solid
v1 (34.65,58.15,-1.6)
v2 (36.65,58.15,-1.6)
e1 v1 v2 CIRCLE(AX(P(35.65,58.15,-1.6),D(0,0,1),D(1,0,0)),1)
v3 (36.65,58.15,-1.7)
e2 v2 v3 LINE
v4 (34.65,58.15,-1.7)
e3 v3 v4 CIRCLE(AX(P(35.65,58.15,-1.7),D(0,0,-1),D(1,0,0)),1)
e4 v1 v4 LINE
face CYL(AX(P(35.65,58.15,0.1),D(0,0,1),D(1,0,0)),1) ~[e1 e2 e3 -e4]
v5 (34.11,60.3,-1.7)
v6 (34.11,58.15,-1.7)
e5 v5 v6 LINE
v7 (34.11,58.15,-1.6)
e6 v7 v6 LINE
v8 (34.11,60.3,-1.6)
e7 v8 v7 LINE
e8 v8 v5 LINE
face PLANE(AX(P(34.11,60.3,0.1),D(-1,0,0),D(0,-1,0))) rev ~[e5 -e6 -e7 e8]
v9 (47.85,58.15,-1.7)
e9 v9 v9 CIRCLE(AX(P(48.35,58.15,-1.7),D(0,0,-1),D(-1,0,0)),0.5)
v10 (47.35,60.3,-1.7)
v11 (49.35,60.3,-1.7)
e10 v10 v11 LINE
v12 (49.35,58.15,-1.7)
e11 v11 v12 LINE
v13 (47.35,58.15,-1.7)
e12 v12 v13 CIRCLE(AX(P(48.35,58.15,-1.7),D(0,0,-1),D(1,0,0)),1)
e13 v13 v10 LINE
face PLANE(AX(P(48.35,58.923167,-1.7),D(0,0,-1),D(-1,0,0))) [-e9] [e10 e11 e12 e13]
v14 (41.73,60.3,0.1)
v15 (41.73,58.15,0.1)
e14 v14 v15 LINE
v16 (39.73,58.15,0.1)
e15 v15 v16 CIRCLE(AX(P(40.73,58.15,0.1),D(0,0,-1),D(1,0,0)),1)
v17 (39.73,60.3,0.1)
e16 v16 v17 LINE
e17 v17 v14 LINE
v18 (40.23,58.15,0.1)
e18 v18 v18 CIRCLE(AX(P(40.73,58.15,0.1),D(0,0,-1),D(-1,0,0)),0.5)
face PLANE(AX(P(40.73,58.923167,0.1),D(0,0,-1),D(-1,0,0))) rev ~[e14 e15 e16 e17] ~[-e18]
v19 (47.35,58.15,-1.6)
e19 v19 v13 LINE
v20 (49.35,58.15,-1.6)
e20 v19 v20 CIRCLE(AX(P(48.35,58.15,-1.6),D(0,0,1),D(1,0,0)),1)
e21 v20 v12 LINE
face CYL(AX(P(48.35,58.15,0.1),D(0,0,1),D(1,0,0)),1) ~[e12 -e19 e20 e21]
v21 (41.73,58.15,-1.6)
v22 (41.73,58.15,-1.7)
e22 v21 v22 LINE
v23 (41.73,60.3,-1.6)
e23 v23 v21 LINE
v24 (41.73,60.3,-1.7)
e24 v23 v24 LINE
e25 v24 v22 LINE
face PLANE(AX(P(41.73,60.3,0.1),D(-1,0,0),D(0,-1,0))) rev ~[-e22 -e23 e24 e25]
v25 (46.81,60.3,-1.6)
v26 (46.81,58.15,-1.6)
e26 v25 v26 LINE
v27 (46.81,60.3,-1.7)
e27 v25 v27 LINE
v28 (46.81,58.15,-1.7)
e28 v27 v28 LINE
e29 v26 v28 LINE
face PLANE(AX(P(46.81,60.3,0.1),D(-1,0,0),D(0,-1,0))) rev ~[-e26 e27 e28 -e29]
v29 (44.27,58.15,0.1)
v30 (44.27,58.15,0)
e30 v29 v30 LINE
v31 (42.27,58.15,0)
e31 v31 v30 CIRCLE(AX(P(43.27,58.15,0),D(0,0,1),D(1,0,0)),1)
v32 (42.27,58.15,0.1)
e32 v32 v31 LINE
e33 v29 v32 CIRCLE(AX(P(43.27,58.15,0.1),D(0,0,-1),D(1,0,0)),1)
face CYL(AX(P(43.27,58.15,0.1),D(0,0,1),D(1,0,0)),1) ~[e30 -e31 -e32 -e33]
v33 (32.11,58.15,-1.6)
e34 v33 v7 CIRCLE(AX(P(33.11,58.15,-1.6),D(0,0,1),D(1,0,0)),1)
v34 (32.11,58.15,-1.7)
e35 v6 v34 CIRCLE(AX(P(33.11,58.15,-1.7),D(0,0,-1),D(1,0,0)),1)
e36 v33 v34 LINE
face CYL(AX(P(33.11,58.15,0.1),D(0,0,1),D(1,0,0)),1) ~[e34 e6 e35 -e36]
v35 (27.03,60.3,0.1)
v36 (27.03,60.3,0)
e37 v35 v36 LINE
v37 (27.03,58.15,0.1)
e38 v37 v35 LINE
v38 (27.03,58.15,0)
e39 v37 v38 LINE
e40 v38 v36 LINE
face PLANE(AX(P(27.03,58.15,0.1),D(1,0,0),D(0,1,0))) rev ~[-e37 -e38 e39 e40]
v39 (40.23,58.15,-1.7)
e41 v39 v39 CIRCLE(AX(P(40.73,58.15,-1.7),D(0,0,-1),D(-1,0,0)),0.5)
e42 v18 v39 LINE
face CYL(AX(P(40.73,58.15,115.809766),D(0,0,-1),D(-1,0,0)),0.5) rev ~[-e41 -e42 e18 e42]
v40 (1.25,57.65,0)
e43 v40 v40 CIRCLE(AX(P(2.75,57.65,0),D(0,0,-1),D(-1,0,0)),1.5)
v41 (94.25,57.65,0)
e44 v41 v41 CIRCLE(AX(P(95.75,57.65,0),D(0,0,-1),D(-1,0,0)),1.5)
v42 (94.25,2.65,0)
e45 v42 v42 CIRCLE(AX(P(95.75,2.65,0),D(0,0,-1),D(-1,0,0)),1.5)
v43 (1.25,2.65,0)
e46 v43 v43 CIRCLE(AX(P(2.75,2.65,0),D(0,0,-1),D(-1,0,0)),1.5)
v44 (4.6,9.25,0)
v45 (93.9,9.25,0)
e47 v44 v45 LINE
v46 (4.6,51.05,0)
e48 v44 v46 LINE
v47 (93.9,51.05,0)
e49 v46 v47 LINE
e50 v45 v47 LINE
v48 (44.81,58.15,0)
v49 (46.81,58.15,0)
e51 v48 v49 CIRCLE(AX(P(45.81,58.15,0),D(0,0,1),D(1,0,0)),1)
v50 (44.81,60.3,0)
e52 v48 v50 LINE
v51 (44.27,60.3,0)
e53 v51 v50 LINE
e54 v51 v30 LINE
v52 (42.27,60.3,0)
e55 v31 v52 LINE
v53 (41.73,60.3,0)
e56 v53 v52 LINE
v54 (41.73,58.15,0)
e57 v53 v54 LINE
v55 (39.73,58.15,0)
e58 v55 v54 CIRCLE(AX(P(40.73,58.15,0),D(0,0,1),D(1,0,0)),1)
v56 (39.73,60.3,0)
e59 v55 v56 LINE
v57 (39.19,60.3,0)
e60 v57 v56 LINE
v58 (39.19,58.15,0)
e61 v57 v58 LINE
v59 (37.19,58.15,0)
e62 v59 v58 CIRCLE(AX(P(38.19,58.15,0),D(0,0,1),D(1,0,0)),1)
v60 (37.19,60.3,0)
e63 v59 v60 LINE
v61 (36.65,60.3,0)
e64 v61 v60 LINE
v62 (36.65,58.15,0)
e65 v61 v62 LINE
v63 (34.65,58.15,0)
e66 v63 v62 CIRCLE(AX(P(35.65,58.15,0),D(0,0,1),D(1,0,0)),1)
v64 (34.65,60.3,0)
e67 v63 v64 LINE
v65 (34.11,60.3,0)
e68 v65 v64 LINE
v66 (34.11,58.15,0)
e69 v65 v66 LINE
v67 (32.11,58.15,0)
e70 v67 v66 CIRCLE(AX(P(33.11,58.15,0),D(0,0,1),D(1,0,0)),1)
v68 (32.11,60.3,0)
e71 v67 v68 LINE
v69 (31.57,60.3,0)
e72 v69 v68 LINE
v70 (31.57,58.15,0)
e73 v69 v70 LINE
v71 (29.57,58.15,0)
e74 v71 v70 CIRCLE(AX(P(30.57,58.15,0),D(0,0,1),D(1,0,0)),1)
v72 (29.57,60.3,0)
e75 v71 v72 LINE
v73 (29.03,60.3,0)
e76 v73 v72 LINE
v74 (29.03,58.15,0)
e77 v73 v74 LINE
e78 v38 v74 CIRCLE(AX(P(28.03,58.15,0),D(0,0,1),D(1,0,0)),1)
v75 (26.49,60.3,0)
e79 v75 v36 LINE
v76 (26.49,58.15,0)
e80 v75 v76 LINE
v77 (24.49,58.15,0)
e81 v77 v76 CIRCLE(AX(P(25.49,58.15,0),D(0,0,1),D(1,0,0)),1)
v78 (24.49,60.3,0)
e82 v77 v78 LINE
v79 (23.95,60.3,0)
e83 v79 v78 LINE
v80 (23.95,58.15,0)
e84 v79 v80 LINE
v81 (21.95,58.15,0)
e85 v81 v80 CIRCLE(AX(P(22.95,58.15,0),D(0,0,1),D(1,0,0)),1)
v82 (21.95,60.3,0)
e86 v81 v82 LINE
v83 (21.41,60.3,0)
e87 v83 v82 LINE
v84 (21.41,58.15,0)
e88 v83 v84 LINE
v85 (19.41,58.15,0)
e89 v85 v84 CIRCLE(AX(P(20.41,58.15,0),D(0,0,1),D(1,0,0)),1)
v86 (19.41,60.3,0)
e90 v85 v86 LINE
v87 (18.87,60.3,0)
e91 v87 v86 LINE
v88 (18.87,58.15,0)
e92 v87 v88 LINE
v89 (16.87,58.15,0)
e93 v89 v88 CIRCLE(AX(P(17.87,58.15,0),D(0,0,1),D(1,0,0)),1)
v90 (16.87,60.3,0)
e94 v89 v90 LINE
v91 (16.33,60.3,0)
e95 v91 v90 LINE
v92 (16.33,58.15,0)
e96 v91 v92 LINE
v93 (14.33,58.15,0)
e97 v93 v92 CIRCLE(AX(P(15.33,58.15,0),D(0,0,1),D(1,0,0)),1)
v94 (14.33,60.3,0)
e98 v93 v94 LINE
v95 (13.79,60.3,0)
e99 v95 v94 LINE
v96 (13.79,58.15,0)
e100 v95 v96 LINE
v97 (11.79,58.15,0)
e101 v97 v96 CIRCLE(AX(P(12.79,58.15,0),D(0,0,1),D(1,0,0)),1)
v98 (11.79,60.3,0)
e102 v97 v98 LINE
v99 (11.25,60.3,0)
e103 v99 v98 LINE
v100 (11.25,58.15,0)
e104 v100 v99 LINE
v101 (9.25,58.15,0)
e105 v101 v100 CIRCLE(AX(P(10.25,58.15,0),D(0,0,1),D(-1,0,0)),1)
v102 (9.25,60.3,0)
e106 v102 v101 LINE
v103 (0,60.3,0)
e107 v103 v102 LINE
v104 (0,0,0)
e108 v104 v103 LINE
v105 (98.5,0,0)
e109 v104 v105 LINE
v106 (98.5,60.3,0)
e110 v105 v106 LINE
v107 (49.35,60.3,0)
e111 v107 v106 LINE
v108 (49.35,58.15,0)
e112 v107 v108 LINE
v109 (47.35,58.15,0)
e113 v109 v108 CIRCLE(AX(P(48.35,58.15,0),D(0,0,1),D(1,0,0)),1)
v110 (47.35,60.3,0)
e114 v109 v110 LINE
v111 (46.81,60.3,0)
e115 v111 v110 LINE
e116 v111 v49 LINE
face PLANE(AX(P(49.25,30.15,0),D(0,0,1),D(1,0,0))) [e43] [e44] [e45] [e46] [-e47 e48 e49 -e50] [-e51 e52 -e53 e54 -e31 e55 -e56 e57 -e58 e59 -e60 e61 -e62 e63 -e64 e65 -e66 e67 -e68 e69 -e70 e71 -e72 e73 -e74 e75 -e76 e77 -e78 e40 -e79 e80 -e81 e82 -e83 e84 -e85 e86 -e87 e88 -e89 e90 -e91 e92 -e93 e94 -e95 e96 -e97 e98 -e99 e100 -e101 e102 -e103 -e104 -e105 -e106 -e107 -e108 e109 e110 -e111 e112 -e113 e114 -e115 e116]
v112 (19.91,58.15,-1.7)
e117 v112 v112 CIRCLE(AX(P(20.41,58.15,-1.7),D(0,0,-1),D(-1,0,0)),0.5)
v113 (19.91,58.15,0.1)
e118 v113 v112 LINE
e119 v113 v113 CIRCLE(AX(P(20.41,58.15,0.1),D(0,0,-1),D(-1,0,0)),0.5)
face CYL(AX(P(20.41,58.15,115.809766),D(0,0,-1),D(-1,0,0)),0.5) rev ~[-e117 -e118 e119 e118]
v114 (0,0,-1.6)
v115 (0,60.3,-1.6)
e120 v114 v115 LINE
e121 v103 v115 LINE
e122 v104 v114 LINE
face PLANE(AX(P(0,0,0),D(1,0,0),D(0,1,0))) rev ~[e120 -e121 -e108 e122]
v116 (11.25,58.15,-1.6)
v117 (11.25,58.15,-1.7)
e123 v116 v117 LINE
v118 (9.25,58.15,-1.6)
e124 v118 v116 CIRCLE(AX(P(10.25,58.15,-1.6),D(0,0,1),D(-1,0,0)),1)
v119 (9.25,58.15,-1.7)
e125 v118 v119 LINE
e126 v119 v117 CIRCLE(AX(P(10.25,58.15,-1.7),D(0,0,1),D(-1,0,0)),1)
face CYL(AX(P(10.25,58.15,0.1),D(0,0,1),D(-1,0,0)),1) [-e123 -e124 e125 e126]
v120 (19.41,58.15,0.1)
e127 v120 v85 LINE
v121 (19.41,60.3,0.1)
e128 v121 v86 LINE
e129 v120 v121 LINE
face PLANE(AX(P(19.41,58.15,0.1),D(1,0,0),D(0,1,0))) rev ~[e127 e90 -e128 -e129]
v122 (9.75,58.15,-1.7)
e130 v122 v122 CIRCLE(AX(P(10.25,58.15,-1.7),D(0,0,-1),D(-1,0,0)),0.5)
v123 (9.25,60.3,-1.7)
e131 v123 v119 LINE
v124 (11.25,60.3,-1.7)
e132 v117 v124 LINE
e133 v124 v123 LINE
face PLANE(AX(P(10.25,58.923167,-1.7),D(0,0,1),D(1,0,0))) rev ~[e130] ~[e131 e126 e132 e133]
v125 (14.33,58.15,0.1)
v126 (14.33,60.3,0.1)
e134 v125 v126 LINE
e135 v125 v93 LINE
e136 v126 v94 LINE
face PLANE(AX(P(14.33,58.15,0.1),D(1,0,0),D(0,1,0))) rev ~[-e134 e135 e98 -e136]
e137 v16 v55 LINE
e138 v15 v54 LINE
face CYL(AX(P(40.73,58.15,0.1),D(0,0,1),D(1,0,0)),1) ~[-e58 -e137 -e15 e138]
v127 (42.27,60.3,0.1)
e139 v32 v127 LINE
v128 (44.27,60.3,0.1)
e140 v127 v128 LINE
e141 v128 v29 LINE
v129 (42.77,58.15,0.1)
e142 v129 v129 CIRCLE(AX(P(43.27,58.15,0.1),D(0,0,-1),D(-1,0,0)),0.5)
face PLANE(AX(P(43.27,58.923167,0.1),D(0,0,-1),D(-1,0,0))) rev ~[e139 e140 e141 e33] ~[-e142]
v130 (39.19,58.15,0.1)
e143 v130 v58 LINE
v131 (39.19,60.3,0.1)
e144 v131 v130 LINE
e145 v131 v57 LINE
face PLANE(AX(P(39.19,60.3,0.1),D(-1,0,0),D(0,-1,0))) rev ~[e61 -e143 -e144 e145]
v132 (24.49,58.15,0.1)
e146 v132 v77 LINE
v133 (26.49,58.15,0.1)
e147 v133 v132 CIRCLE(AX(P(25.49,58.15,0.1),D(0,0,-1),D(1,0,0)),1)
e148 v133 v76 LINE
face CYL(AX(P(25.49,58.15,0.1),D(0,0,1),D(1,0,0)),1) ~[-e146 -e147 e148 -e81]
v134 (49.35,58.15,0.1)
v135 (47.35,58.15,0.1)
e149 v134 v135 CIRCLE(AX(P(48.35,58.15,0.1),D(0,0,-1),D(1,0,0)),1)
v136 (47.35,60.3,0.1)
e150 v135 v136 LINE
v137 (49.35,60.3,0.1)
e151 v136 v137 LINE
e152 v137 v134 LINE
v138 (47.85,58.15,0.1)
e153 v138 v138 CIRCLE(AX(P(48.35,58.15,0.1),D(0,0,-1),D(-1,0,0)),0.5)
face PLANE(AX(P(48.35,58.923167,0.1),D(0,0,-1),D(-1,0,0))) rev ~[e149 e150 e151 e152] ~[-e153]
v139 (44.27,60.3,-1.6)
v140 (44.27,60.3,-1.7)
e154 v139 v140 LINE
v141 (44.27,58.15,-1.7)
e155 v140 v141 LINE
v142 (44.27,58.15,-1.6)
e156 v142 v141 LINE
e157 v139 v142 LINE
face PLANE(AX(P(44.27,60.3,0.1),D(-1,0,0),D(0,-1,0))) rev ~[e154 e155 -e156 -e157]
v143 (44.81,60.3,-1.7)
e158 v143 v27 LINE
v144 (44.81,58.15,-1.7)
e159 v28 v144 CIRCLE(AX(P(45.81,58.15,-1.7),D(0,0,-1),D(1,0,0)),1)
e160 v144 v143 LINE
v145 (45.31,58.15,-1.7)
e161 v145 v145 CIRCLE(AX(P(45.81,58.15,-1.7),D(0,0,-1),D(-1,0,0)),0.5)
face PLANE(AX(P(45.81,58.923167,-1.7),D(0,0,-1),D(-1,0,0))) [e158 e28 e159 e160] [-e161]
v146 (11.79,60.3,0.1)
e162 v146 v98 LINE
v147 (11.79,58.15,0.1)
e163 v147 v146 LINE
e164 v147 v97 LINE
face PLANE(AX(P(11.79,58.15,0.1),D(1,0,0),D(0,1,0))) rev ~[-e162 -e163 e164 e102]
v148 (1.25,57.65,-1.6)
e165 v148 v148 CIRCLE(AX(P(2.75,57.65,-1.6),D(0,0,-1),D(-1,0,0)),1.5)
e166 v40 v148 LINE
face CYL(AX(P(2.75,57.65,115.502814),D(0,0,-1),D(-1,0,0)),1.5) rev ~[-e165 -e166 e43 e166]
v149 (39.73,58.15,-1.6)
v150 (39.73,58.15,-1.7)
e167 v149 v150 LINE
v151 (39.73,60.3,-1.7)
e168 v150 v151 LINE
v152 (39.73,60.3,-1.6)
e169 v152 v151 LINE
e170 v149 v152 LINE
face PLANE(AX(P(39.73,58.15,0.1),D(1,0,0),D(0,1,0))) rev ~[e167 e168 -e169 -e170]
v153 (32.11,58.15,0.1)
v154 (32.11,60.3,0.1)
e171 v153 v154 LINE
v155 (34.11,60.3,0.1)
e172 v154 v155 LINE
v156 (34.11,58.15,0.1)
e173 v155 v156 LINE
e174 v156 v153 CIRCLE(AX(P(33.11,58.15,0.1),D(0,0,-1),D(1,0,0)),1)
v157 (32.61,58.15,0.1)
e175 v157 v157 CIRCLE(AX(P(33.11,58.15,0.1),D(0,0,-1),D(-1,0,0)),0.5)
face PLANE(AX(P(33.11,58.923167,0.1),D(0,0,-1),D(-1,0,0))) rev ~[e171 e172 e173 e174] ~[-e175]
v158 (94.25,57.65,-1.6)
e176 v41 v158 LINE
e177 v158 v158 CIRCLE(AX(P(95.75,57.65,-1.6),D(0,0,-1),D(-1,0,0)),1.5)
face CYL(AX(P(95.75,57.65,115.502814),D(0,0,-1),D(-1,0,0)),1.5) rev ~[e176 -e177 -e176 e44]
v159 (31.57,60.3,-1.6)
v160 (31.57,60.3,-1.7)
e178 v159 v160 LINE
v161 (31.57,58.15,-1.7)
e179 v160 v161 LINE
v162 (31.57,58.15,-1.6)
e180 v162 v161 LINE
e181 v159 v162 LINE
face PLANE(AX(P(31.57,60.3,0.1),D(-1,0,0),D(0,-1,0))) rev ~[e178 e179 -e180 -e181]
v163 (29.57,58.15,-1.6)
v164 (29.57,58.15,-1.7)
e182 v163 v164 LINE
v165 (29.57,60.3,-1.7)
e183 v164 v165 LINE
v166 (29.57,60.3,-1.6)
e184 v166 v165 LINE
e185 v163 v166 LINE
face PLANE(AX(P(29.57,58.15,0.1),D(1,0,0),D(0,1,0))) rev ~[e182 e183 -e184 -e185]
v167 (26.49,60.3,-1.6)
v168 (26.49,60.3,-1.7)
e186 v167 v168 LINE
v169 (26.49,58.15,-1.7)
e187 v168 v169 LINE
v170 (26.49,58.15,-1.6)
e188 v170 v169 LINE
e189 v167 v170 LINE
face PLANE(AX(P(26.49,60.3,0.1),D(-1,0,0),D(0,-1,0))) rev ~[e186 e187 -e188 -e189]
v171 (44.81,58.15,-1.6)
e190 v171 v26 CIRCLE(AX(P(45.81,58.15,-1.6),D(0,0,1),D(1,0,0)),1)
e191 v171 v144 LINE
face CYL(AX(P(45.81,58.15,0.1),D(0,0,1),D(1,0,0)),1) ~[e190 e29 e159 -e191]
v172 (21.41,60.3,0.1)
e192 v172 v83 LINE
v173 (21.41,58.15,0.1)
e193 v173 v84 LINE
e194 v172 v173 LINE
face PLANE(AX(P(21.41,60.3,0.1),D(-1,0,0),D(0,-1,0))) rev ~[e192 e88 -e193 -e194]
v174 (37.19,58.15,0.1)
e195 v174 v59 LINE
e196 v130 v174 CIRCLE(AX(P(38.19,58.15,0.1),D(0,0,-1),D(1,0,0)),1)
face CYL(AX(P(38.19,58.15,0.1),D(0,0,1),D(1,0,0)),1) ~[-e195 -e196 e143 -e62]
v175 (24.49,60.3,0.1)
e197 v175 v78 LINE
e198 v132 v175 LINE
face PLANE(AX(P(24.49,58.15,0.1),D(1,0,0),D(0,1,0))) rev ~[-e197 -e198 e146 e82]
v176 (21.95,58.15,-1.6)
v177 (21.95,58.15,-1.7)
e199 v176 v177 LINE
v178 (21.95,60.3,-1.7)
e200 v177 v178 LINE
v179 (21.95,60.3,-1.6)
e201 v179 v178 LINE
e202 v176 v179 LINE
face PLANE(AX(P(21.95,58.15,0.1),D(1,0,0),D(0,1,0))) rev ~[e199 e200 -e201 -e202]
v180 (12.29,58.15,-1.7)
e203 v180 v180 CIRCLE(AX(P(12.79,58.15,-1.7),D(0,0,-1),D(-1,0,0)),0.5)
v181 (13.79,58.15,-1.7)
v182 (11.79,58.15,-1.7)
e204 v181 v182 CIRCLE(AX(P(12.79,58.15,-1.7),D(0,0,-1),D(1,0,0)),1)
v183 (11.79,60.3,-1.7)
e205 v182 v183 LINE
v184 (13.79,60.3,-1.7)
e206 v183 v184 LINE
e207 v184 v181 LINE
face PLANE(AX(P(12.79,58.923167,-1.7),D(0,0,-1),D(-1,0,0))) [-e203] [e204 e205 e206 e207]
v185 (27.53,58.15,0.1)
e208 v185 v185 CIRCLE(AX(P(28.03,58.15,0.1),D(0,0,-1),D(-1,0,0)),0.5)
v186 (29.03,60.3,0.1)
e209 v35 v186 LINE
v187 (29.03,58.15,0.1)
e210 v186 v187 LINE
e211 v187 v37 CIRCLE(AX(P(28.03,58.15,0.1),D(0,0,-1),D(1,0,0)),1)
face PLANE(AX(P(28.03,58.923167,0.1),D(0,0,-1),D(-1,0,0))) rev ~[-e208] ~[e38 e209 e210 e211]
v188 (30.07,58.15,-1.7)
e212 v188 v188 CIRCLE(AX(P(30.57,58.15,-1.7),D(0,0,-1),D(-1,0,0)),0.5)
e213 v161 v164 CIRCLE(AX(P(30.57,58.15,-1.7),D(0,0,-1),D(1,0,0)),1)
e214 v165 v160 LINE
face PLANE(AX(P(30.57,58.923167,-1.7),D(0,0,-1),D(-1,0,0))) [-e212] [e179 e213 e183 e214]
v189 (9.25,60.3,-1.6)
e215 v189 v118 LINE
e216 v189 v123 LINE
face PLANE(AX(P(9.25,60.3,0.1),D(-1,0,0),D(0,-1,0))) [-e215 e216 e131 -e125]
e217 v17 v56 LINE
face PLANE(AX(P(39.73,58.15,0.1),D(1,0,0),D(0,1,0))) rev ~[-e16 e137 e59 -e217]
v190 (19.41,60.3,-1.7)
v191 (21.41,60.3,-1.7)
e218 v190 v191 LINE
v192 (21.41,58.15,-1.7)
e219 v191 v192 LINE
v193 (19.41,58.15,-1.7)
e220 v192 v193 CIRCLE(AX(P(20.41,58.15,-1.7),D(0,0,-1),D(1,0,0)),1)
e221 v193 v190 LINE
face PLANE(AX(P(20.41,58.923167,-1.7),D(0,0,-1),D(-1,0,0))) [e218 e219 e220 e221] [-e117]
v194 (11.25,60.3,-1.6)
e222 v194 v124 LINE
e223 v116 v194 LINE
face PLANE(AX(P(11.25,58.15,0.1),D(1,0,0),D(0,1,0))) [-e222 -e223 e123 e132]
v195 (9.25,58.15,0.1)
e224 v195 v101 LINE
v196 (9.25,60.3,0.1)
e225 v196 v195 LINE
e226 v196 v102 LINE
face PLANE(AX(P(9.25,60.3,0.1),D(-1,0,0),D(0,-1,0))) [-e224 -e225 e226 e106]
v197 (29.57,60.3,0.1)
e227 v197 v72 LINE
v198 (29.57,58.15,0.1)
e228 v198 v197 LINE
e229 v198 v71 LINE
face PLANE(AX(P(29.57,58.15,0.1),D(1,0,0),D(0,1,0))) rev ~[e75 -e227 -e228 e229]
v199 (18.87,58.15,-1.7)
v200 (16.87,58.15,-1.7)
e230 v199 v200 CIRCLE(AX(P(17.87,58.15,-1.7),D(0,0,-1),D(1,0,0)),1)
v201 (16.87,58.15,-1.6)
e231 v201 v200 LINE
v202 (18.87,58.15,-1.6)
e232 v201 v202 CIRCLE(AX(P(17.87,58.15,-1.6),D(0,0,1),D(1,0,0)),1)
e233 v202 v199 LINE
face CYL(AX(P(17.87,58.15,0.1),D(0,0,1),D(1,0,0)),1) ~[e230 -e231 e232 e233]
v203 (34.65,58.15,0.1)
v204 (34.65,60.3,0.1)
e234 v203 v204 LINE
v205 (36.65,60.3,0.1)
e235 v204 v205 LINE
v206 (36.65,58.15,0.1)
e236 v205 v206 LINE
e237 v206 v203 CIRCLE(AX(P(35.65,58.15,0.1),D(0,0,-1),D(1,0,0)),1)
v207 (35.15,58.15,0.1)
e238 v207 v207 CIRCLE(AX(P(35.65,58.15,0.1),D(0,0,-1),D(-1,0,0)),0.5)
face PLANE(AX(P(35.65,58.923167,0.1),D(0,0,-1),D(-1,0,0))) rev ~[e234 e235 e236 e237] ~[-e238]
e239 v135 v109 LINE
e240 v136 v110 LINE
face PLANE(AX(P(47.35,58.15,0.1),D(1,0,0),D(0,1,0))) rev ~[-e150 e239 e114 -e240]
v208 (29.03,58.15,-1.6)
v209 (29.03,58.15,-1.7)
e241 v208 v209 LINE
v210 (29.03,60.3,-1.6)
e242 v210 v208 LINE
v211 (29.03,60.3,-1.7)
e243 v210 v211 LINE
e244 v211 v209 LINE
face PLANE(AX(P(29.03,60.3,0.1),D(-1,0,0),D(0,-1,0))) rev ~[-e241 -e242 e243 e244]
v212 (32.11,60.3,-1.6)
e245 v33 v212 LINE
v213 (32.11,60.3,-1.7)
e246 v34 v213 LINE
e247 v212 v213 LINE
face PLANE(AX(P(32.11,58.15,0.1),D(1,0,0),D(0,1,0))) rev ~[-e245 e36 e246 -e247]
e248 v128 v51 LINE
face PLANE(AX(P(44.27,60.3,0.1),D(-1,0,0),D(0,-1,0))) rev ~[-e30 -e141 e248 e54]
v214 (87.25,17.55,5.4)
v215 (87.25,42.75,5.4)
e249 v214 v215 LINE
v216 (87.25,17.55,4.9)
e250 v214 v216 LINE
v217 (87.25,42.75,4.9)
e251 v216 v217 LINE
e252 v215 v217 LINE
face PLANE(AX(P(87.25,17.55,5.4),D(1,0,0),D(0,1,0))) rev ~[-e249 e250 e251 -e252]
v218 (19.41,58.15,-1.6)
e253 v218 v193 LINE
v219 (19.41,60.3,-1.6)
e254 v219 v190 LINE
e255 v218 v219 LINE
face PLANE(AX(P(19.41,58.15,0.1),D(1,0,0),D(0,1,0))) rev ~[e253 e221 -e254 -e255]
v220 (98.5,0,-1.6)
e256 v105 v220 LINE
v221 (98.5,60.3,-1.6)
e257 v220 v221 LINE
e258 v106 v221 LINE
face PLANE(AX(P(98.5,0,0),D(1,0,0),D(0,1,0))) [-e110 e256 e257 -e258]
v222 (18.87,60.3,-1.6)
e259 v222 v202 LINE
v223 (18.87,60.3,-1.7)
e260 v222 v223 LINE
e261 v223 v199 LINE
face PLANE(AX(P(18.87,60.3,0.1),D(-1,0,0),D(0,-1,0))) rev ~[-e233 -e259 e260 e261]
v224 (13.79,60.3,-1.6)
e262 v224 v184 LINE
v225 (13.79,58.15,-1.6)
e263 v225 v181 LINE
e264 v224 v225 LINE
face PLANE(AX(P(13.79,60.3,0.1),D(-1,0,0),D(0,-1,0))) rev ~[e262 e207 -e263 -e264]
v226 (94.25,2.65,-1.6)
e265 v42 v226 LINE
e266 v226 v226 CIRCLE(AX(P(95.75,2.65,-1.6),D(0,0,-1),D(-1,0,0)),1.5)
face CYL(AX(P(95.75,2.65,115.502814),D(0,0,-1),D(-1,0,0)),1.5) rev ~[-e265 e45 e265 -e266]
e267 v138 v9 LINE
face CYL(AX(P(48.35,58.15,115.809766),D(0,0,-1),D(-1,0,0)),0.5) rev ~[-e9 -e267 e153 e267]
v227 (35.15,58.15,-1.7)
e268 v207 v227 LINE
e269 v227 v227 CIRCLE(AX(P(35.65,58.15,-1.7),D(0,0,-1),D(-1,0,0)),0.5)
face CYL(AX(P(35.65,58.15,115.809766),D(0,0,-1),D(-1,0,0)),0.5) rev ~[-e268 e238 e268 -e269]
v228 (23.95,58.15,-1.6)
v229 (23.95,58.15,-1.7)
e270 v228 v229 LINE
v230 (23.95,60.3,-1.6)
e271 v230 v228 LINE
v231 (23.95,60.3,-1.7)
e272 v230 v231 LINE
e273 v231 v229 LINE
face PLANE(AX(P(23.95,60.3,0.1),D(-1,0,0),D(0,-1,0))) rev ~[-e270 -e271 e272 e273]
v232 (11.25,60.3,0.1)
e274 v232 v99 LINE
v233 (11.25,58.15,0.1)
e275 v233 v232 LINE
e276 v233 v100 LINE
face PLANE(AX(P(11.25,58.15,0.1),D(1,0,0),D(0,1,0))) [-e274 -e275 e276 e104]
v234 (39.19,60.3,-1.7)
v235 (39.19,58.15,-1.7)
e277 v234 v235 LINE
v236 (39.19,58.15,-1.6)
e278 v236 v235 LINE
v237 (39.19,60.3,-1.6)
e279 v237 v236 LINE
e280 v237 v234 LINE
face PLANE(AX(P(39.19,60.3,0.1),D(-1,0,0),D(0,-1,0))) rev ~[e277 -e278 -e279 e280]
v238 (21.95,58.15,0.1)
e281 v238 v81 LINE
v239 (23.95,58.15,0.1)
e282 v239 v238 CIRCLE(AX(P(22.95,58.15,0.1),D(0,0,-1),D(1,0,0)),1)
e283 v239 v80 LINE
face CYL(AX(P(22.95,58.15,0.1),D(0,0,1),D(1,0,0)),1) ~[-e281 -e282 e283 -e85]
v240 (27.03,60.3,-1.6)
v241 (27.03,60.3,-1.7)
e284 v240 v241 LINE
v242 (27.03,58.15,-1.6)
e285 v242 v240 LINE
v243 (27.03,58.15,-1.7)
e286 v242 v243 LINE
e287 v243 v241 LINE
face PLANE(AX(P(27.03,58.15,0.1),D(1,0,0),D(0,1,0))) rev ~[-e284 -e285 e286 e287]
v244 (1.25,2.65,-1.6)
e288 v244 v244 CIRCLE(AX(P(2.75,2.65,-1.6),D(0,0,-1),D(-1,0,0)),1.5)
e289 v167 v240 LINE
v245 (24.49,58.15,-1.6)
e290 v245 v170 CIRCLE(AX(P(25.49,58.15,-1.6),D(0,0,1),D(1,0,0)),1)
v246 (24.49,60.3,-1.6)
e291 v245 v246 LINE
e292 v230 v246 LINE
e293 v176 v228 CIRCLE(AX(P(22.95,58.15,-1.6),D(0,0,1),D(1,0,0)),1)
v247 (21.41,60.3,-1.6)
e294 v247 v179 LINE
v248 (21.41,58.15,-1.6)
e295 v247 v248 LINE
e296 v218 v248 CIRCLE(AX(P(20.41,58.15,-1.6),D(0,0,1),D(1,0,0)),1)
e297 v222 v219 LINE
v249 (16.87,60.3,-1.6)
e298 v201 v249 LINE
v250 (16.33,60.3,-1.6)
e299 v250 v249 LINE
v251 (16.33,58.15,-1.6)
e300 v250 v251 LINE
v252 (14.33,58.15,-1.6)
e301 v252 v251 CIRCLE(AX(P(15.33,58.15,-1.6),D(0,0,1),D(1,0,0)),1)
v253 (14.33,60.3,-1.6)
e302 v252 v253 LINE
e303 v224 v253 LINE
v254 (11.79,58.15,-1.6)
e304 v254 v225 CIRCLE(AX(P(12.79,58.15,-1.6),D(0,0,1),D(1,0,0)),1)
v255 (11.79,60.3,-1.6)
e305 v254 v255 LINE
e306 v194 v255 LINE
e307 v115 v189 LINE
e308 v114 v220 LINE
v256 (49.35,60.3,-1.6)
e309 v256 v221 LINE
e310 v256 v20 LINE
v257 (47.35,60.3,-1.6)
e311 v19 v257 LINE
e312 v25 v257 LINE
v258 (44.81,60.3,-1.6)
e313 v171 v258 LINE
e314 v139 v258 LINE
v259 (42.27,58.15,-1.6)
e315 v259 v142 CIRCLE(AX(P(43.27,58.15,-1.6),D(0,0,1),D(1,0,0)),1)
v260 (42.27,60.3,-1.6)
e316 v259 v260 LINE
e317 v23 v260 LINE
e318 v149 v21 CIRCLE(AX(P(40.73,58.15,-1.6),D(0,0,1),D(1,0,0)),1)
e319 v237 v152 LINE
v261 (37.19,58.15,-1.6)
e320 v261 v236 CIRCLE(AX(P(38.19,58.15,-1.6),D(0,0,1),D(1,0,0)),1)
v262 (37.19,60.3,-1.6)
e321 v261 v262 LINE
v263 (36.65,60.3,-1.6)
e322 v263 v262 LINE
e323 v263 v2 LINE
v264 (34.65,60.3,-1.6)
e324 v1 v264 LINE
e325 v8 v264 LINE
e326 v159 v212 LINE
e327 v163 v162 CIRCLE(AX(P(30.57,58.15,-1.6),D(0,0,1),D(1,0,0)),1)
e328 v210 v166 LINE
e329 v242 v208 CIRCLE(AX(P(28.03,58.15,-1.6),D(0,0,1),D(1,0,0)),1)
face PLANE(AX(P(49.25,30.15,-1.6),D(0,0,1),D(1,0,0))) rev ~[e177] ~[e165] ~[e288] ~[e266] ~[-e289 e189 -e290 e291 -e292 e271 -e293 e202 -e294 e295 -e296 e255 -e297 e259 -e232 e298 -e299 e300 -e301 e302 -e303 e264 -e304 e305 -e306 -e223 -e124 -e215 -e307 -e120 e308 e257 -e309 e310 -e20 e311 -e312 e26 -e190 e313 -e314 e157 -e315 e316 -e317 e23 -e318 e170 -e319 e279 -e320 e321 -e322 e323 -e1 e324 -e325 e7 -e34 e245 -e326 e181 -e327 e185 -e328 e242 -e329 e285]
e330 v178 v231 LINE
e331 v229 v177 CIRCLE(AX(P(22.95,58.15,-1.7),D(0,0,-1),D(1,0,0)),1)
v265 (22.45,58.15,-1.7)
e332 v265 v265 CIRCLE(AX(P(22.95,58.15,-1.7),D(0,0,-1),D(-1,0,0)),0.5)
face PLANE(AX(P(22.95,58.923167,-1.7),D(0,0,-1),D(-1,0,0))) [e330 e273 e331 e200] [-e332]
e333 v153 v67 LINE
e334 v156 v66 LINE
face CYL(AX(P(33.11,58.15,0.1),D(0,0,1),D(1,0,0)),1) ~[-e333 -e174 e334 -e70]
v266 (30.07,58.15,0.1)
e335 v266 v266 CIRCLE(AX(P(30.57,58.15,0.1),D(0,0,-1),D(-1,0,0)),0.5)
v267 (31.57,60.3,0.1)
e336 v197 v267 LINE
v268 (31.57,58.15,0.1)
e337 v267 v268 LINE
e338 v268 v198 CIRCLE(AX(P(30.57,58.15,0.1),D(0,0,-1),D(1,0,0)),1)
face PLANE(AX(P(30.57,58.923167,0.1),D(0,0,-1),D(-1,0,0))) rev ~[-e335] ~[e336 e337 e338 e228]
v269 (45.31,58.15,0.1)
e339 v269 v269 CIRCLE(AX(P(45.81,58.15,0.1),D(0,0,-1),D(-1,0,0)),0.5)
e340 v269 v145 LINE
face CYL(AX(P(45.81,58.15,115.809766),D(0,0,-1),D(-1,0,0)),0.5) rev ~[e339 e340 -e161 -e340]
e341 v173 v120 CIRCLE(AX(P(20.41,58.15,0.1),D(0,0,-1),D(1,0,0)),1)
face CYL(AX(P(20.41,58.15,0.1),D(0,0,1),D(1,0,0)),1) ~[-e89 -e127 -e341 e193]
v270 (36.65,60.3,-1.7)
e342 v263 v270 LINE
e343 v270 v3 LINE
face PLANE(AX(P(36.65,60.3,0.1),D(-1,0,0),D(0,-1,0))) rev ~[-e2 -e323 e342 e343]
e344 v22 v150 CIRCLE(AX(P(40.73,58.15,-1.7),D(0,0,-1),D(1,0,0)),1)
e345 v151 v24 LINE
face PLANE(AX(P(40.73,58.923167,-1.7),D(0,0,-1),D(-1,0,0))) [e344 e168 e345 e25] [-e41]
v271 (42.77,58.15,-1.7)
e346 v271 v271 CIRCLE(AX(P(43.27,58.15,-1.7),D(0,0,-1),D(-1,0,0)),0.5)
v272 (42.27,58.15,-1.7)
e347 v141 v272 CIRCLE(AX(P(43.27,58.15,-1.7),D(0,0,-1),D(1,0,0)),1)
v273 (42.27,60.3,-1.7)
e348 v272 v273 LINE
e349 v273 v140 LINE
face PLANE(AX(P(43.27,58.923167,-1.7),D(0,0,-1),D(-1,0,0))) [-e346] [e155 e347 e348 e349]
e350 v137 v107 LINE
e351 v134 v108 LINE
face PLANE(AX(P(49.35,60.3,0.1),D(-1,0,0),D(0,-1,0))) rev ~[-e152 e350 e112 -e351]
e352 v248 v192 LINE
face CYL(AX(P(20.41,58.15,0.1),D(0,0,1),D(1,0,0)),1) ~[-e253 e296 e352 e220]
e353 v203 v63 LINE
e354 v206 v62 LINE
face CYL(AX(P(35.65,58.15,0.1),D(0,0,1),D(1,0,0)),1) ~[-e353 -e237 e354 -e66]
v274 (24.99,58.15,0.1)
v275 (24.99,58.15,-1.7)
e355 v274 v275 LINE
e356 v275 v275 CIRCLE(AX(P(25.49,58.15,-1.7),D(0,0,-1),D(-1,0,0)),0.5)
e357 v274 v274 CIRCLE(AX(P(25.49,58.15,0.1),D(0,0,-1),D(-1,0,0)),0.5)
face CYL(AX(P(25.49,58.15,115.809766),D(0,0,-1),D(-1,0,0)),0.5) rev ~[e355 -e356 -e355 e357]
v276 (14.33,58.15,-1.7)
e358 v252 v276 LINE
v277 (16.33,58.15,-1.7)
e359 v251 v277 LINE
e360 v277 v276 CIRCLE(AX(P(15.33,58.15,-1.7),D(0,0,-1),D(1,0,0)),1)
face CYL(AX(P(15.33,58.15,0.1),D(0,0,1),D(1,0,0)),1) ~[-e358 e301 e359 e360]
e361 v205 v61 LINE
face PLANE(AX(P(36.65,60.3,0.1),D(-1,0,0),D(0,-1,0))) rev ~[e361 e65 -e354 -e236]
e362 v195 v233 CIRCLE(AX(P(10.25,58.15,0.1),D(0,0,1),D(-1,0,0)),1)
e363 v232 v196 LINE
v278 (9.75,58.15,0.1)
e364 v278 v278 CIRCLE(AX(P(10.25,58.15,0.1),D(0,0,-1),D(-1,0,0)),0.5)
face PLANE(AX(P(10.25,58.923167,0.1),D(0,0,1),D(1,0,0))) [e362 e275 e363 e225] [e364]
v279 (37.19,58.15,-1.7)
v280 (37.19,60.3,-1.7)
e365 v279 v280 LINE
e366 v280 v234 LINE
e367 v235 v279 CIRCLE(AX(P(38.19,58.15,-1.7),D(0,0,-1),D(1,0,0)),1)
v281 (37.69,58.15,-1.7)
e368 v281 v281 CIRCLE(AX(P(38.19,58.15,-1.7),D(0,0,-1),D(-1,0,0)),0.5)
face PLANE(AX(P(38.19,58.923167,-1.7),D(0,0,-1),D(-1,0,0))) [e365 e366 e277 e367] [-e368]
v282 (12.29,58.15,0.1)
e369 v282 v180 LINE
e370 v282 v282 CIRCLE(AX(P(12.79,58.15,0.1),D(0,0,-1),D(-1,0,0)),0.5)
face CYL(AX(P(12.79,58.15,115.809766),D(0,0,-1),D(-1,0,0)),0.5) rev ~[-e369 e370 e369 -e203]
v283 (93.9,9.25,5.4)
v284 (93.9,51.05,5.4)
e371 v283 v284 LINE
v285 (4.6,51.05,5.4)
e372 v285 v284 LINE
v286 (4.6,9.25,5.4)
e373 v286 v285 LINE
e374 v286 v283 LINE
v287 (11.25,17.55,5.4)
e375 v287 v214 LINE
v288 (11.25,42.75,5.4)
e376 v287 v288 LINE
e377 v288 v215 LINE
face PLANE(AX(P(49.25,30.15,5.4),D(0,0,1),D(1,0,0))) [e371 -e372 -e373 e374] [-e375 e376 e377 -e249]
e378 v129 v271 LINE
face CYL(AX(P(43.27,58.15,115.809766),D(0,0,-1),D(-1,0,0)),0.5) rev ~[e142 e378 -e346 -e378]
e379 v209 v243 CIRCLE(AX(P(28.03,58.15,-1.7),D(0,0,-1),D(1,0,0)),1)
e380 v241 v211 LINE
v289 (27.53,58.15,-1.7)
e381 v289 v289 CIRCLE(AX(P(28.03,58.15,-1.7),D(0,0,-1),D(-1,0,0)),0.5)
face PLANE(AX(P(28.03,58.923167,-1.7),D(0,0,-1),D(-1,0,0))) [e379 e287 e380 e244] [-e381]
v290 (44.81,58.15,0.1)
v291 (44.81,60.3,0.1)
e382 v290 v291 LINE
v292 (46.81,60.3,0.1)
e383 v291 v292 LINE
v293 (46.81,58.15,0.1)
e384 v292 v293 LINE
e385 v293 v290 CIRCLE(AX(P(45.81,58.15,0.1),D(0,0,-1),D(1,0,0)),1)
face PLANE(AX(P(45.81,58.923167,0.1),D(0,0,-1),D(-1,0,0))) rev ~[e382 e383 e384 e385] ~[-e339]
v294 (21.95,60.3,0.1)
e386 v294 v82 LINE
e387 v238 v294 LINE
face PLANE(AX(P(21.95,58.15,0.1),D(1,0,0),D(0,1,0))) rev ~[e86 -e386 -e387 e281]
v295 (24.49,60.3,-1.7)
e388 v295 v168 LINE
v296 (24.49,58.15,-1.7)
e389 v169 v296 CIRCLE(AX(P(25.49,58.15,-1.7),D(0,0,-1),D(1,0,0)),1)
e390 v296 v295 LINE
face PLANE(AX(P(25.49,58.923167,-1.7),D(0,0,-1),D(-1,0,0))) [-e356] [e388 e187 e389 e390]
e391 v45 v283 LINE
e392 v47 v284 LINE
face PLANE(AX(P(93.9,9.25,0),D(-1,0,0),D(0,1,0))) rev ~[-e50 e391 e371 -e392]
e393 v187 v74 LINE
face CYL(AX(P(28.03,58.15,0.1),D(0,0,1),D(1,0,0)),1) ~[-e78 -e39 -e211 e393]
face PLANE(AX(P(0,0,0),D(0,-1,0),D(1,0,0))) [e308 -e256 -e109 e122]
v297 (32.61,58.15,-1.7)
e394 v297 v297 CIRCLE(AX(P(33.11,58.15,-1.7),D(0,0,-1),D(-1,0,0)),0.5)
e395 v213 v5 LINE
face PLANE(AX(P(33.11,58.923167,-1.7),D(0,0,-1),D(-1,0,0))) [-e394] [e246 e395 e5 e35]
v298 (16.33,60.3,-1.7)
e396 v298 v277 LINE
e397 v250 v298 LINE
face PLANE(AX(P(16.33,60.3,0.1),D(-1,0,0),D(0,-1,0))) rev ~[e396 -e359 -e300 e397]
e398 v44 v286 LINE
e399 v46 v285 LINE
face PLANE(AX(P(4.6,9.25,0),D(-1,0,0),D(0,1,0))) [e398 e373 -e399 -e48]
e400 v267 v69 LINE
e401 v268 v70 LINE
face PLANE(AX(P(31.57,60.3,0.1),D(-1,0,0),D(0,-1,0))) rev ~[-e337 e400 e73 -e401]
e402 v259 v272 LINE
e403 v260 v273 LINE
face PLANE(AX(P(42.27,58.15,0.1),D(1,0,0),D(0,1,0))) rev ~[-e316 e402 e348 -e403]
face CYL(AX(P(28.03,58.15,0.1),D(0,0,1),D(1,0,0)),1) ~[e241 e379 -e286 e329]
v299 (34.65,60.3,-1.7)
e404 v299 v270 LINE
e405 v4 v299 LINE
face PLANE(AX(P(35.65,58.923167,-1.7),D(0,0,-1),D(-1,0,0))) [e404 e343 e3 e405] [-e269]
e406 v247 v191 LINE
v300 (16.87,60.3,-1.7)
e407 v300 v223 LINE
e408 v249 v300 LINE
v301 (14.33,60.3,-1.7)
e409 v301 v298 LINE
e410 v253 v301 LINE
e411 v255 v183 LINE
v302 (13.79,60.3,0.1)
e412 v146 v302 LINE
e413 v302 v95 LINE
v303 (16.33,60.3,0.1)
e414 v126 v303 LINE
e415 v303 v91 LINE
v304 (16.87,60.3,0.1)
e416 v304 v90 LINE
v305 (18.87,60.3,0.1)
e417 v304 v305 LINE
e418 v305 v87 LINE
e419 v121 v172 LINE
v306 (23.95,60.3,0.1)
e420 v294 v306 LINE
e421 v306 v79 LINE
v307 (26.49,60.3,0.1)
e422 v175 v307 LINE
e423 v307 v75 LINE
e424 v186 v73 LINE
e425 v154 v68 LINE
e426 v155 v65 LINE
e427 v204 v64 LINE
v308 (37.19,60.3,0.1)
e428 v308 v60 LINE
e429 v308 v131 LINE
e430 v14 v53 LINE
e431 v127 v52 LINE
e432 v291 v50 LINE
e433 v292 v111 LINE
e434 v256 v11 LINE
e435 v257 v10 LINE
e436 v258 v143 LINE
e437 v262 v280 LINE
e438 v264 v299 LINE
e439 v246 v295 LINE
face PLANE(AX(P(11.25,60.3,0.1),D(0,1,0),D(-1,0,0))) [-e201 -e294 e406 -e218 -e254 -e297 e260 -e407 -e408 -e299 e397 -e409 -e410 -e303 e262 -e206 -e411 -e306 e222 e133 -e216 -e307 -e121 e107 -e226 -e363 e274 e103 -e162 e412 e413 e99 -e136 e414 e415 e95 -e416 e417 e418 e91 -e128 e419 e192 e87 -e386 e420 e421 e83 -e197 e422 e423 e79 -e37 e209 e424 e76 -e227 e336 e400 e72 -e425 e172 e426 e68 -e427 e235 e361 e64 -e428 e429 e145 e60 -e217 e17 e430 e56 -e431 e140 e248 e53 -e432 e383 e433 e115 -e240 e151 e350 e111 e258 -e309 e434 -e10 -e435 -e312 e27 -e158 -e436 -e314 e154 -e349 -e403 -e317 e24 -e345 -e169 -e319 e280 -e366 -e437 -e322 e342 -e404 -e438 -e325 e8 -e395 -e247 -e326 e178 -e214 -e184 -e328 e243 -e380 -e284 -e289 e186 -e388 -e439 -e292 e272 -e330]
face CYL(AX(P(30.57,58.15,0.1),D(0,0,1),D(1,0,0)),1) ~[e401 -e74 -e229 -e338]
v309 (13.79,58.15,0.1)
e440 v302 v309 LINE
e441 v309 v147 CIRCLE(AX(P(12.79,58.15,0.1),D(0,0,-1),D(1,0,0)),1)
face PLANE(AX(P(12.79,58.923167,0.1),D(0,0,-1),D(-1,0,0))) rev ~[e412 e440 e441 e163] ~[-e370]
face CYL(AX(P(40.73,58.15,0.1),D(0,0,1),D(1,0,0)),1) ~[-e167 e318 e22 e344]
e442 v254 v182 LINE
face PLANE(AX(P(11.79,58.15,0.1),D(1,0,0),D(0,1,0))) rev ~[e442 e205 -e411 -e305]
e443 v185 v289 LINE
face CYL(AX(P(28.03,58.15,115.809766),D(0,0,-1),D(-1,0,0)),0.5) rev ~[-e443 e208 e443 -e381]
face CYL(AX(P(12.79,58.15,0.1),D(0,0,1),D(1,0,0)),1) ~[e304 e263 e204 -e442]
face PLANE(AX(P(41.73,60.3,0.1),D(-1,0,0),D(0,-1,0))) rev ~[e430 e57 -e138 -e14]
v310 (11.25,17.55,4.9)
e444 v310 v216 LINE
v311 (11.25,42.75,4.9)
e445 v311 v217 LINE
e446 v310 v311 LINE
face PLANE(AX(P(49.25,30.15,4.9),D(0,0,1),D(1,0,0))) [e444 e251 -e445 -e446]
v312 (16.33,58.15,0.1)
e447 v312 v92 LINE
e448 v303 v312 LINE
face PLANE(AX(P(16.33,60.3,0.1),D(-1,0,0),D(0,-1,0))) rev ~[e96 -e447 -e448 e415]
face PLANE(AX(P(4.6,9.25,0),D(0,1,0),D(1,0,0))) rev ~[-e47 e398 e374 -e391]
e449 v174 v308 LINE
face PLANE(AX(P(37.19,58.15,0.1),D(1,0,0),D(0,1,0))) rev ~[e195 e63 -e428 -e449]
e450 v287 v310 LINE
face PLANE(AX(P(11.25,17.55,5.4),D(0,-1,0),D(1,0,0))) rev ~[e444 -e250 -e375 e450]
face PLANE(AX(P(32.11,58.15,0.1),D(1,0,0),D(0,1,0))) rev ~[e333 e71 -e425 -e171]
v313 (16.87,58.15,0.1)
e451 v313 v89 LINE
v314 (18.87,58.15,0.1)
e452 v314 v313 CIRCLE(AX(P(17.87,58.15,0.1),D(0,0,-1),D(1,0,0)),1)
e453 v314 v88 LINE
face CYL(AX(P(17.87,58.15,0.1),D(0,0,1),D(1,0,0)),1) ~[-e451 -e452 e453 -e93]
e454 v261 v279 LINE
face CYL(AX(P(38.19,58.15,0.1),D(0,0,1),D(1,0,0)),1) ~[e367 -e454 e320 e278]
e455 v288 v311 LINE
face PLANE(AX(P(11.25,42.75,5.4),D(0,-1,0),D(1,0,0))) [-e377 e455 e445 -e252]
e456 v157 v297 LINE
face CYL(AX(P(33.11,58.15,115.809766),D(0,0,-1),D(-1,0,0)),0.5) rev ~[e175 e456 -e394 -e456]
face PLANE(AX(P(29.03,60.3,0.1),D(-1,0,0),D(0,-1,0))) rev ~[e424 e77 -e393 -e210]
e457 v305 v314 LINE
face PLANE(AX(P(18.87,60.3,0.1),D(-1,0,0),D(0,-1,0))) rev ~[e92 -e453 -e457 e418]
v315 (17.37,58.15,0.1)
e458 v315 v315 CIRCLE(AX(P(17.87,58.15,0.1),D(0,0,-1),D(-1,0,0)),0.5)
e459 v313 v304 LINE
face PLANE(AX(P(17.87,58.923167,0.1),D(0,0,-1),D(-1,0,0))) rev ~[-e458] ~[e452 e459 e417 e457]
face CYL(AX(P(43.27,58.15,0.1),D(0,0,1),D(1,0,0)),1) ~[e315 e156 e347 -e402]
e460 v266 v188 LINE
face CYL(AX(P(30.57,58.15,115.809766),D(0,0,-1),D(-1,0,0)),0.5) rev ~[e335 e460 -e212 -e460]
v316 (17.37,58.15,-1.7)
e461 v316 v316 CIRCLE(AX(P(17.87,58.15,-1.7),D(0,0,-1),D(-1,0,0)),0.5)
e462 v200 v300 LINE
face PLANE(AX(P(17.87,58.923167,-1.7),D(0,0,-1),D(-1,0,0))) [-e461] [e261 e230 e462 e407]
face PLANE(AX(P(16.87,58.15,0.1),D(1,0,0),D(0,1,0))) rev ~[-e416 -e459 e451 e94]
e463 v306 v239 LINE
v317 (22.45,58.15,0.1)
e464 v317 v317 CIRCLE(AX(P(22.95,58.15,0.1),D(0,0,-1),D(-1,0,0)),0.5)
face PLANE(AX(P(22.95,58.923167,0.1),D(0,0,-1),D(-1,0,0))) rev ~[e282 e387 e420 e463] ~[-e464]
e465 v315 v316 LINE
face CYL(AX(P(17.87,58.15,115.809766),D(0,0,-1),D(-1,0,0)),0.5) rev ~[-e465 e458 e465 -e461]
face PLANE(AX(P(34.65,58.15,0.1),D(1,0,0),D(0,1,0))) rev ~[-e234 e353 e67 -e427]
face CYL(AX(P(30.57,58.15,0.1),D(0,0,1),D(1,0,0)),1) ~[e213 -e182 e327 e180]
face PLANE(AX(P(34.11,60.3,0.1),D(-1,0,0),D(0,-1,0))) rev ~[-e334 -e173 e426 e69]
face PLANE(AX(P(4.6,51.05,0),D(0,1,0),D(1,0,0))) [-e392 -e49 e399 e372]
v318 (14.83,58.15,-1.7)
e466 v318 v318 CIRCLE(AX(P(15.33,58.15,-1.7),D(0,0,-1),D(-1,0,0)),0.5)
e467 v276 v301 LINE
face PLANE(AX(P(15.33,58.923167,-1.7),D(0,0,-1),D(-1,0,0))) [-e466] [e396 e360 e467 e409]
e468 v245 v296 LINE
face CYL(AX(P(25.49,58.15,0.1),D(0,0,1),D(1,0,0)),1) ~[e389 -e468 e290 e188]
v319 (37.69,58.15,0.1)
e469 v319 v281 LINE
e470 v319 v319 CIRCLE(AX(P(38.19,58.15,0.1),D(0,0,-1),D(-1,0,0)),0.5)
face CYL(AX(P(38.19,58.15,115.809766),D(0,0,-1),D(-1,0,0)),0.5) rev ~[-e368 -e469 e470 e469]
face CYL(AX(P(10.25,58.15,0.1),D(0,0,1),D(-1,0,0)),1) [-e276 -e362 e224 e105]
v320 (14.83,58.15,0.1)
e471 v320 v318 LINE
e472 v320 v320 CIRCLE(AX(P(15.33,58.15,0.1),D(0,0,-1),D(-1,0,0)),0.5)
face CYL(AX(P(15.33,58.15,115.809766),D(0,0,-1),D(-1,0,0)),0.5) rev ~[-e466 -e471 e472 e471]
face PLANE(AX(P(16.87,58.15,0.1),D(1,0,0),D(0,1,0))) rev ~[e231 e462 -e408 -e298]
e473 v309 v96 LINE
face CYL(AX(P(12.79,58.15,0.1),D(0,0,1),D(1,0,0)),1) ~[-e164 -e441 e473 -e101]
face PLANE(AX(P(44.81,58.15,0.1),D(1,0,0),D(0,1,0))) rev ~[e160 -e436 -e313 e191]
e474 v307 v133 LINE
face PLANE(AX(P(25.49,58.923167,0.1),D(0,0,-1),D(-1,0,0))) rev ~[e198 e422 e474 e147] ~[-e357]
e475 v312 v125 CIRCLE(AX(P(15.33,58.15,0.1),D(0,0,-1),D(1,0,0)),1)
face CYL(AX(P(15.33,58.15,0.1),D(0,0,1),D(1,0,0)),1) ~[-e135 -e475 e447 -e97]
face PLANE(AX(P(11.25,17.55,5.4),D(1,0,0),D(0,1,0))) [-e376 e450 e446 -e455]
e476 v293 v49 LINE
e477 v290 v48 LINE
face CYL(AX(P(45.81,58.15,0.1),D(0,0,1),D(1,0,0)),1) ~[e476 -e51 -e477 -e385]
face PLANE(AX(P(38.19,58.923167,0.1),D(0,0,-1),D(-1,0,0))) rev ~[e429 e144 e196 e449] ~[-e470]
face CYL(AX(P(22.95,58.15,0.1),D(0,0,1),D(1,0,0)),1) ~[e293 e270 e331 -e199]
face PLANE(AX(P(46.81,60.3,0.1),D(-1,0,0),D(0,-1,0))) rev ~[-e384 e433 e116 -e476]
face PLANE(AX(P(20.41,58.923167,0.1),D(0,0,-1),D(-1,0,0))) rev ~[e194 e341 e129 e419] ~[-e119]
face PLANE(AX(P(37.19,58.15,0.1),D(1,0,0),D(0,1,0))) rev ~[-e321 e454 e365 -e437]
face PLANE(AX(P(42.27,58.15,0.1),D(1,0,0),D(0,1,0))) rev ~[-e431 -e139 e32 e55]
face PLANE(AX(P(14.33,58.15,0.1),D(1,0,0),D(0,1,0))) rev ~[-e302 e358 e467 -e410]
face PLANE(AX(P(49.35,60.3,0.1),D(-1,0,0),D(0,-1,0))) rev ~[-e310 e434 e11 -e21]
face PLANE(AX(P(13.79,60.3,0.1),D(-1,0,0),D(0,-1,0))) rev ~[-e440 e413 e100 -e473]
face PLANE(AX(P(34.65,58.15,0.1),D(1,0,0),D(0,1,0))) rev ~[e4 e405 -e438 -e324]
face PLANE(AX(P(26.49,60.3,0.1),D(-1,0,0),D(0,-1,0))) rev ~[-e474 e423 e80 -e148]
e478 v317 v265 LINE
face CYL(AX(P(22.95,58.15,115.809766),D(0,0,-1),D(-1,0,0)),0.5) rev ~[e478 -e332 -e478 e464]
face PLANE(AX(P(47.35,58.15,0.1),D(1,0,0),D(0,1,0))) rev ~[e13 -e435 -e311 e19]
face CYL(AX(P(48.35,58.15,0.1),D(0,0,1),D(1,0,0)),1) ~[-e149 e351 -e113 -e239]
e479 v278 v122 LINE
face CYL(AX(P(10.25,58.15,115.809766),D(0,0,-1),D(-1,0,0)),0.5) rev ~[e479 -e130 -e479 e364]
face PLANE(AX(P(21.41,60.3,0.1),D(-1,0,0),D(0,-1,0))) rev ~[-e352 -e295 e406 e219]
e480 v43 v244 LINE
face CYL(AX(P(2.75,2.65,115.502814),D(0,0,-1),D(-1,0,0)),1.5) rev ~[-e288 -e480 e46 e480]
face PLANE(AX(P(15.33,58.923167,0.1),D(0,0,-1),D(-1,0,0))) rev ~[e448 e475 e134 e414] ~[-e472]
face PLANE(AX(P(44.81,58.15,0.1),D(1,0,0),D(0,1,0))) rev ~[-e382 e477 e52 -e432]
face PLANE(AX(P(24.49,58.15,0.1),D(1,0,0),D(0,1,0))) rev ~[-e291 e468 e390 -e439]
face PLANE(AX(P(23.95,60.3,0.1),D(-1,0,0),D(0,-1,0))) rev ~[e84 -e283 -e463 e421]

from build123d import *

# Parameters (mm, degrees)
SKETCH1_W                = 98.5
SKETCH1_H                = 60.3
BOSS_EXTRUDE1_DEPTH      = 1.6
F_3_0_3_DIAMETER_HOLE1_D = 3
SKETCH5_W                = 89.3
SKETCH5_H                = 41.8
BOSS_EXTRUDE2_DEPTH      = 5.4
SKETCH6_W                = 76
SKETCH6_H                = 25.2
CUT_EXTRUDE1_DEPTH       = 0.5
BOSS_EXTRUDE3_DEPTH      = 0.1
BOSS_EXTRUDE3_DEPTH_BACK = 1.7
F_1_0_1_DIAMETER_HOLE1_D = 1


with BuildPart() as part:
    # Sketch1 → Boss-Extrude1 (new body)
    with BuildSketch(Plane.XY):
        with Locations((49.25, 30.15)):
            Rectangle(SKETCH1_W, SKETCH1_H)
    extrude(amount=-BOSS_EXTRUDE1_DEPTH)

    # Ø3.0 (3) Diameter Hole1 (through all)
    with Locations(Plane.XY):
        with Locations((2.75, 57.65), (95.75, 57.65), (95.75, 2.65), (2.75, 2.65)):
            Hole(F_3_0_3_DIAMETER_HOLE1_D / 2)

    # Sketch5 → Boss-Extrude2 (add)
    with BuildSketch(Plane.XY):
        with Locations((49.25, 30.15)):
            Rectangle(SKETCH5_W, SKETCH5_H)
    extrude(amount=BOSS_EXTRUDE2_DEPTH)

    # Sketch6 → Cut-Extrude1 (cut)
    with BuildSketch(Plane.XY.offset(5.4)):
        with Locations((49.25, 30.15)):
            Rectangle(SKETCH6_W, SKETCH6_H)
    extrude(amount=-CUT_EXTRUDE1_DEPTH, mode=Mode.SUBTRACT)

    # Sketch7 → Boss-Extrude3 (add, two sides: drawn at the far end of the back side and taken through both)
    with BuildSketch(Plane(origin=(0, 0, -1.6), x_dir=(-1, 0, 0), z_dir=(0, 0, -1)).offset(-BOSS_EXTRUDE3_DEPTH_BACK)):
        with BuildLine():
            Line((-11.25, 58.15), (-11.25, 60.3))
            Line((-11.25, 60.3), (-9.25, 60.3))
            Line((-9.25, 60.3), (-9.25, 58.15))
            ThreePointArc((-9.25, 58.15), (-10.25, 57.15), (-11.25, 58.15))
        make_face()
        with BuildLine():
            Line((-11.79, 58.15), (-11.79, 60.3))
            Line((-11.79, 60.3), (-13.79, 60.3))
            Line((-13.79, 60.3), (-13.79, 58.15))
            ThreePointArc((-13.79, 58.15), (-12.79, 57.15), (-11.79, 58.15))
        make_face()
        with BuildLine():
            Line((-14.33, 58.15), (-14.33, 60.3))
            Line((-14.33, 60.3), (-16.33, 60.3))
            Line((-16.33, 60.3), (-16.33, 58.15))
            ThreePointArc((-16.33, 58.15), (-15.33, 57.15), (-14.33, 58.15))
        make_face()
        with BuildLine():
            Line((-16.87, 58.15), (-16.87, 60.3))
            Line((-16.87, 60.3), (-18.87, 60.3))
            Line((-18.87, 60.3), (-18.87, 58.15))
            ThreePointArc((-18.87, 58.15), (-17.87, 57.15), (-16.87, 58.15))
        make_face()
        with BuildLine():
            Line((-19.41, 58.15), (-19.41, 60.3))
            Line((-19.41, 60.3), (-21.41, 60.3))
            Line((-21.41, 60.3), (-21.41, 58.15))
            ThreePointArc((-21.41, 58.15), (-20.41, 57.15), (-19.41, 58.15))
        make_face()
        with BuildLine():
            Line((-21.95, 58.15), (-21.95, 60.3))
            Line((-21.95, 60.3), (-23.95, 60.3))
            Line((-23.95, 60.3), (-23.95, 58.15))
            ThreePointArc((-23.95, 58.15), (-22.95, 57.15), (-21.95, 58.15))
        make_face()
        with BuildLine():
            Line((-24.49, 58.15), (-24.49, 60.3))
            Line((-24.49, 60.3), (-26.49, 60.3))
            Line((-26.49, 60.3), (-26.49, 58.15))
            ThreePointArc((-26.49, 58.15), (-25.49, 57.15), (-24.49, 58.15))
        make_face()
        with BuildLine():
            Line((-27.03, 58.15), (-27.03, 60.3))
            Line((-27.03, 60.3), (-29.03, 60.3))
            Line((-29.03, 60.3), (-29.03, 58.15))
            ThreePointArc((-29.03, 58.15), (-28.03, 57.15), (-27.03, 58.15))
        make_face()
        with BuildLine():
            Line((-29.57, 58.15), (-29.57, 60.3))
            Line((-29.57, 60.3), (-31.57, 60.3))
            Line((-31.57, 60.3), (-31.57, 58.15))
            ThreePointArc((-31.57, 58.15), (-30.57, 57.15), (-29.57, 58.15))
        make_face()
        with BuildLine():
            Line((-32.11, 58.15), (-32.11, 60.3))
            Line((-32.11, 60.3), (-34.11, 60.3))
            Line((-34.11, 60.3), (-34.11, 58.15))
            ThreePointArc((-34.11, 58.15), (-33.11, 57.15), (-32.11, 58.15))
        make_face()
        with BuildLine():
            Line((-34.65, 58.15), (-34.65, 60.3))
            Line((-34.65, 60.3), (-36.65, 60.3))
            Line((-36.65, 60.3), (-36.65, 58.15))
            ThreePointArc((-36.65, 58.15), (-35.65, 57.15), (-34.65, 58.15))
        make_face()
        with BuildLine():
            Line((-37.19, 58.15), (-37.19, 60.3))
            Line((-37.19, 60.3), (-39.19, 60.3))
            Line((-39.19, 60.3), (-39.19, 58.15))
            ThreePointArc((-39.19, 58.15), (-38.19, 57.15), (-37.19, 58.15))
        make_face()
        with BuildLine():
            Line((-39.73, 58.15), (-39.73, 60.3))
            Line((-39.73, 60.3), (-41.73, 60.3))
            Line((-41.73, 60.3), (-41.73, 58.15))
            ThreePointArc((-41.73, 58.15), (-40.73, 57.15), (-39.73, 58.15))
        make_face()
        with BuildLine():
            Line((-42.27, 58.15), (-42.27, 60.3))
            Line((-42.27, 60.3), (-44.27, 60.3))
            Line((-44.27, 60.3), (-44.27, 58.15))
            ThreePointArc((-44.27, 58.15), (-43.27, 57.15), (-42.27, 58.15))
        make_face()
        with BuildLine():
            Line((-44.81, 58.15), (-44.81, 60.3))
            Line((-44.81, 60.3), (-46.81, 60.3))
            Line((-46.81, 60.3), (-46.81, 58.15))
            ThreePointArc((-46.81, 58.15), (-45.81, 57.15), (-44.81, 58.15))
        make_face()
        with BuildLine():
            Line((-47.35, 58.15), (-47.35, 60.3))
            Line((-47.35, 60.3), (-49.35, 60.3))
            Line((-49.35, 60.3), (-49.35, 58.15))
            ThreePointArc((-49.35, 58.15), (-48.35, 57.15), (-47.35, 58.15))
        make_face()
    extrude(amount=BOSS_EXTRUDE3_DEPTH + BOSS_EXTRUDE3_DEPTH_BACK)

    # Ø1.0 (1) Diameter Hole1 (through all)
    with Locations(Plane.XY.offset(0.1)):
        with Locations((10.25, 58.15), (12.79, 58.15), (15.33, 58.15), (17.87, 58.15), (20.41, 58.15), (22.95, 58.15), (25.49, 58.15), (28.03, 58.15), (30.57, 58.15), (33.11, 58.15), (35.65, 58.15), (38.19, 58.15), (40.73, 58.15), (43.27, 58.15), (45.81, 58.15), (48.35, 58.15)):
            Hole(F_1_0_1_DIAMETER_HOLE1_D / 2)


solid = part.part
